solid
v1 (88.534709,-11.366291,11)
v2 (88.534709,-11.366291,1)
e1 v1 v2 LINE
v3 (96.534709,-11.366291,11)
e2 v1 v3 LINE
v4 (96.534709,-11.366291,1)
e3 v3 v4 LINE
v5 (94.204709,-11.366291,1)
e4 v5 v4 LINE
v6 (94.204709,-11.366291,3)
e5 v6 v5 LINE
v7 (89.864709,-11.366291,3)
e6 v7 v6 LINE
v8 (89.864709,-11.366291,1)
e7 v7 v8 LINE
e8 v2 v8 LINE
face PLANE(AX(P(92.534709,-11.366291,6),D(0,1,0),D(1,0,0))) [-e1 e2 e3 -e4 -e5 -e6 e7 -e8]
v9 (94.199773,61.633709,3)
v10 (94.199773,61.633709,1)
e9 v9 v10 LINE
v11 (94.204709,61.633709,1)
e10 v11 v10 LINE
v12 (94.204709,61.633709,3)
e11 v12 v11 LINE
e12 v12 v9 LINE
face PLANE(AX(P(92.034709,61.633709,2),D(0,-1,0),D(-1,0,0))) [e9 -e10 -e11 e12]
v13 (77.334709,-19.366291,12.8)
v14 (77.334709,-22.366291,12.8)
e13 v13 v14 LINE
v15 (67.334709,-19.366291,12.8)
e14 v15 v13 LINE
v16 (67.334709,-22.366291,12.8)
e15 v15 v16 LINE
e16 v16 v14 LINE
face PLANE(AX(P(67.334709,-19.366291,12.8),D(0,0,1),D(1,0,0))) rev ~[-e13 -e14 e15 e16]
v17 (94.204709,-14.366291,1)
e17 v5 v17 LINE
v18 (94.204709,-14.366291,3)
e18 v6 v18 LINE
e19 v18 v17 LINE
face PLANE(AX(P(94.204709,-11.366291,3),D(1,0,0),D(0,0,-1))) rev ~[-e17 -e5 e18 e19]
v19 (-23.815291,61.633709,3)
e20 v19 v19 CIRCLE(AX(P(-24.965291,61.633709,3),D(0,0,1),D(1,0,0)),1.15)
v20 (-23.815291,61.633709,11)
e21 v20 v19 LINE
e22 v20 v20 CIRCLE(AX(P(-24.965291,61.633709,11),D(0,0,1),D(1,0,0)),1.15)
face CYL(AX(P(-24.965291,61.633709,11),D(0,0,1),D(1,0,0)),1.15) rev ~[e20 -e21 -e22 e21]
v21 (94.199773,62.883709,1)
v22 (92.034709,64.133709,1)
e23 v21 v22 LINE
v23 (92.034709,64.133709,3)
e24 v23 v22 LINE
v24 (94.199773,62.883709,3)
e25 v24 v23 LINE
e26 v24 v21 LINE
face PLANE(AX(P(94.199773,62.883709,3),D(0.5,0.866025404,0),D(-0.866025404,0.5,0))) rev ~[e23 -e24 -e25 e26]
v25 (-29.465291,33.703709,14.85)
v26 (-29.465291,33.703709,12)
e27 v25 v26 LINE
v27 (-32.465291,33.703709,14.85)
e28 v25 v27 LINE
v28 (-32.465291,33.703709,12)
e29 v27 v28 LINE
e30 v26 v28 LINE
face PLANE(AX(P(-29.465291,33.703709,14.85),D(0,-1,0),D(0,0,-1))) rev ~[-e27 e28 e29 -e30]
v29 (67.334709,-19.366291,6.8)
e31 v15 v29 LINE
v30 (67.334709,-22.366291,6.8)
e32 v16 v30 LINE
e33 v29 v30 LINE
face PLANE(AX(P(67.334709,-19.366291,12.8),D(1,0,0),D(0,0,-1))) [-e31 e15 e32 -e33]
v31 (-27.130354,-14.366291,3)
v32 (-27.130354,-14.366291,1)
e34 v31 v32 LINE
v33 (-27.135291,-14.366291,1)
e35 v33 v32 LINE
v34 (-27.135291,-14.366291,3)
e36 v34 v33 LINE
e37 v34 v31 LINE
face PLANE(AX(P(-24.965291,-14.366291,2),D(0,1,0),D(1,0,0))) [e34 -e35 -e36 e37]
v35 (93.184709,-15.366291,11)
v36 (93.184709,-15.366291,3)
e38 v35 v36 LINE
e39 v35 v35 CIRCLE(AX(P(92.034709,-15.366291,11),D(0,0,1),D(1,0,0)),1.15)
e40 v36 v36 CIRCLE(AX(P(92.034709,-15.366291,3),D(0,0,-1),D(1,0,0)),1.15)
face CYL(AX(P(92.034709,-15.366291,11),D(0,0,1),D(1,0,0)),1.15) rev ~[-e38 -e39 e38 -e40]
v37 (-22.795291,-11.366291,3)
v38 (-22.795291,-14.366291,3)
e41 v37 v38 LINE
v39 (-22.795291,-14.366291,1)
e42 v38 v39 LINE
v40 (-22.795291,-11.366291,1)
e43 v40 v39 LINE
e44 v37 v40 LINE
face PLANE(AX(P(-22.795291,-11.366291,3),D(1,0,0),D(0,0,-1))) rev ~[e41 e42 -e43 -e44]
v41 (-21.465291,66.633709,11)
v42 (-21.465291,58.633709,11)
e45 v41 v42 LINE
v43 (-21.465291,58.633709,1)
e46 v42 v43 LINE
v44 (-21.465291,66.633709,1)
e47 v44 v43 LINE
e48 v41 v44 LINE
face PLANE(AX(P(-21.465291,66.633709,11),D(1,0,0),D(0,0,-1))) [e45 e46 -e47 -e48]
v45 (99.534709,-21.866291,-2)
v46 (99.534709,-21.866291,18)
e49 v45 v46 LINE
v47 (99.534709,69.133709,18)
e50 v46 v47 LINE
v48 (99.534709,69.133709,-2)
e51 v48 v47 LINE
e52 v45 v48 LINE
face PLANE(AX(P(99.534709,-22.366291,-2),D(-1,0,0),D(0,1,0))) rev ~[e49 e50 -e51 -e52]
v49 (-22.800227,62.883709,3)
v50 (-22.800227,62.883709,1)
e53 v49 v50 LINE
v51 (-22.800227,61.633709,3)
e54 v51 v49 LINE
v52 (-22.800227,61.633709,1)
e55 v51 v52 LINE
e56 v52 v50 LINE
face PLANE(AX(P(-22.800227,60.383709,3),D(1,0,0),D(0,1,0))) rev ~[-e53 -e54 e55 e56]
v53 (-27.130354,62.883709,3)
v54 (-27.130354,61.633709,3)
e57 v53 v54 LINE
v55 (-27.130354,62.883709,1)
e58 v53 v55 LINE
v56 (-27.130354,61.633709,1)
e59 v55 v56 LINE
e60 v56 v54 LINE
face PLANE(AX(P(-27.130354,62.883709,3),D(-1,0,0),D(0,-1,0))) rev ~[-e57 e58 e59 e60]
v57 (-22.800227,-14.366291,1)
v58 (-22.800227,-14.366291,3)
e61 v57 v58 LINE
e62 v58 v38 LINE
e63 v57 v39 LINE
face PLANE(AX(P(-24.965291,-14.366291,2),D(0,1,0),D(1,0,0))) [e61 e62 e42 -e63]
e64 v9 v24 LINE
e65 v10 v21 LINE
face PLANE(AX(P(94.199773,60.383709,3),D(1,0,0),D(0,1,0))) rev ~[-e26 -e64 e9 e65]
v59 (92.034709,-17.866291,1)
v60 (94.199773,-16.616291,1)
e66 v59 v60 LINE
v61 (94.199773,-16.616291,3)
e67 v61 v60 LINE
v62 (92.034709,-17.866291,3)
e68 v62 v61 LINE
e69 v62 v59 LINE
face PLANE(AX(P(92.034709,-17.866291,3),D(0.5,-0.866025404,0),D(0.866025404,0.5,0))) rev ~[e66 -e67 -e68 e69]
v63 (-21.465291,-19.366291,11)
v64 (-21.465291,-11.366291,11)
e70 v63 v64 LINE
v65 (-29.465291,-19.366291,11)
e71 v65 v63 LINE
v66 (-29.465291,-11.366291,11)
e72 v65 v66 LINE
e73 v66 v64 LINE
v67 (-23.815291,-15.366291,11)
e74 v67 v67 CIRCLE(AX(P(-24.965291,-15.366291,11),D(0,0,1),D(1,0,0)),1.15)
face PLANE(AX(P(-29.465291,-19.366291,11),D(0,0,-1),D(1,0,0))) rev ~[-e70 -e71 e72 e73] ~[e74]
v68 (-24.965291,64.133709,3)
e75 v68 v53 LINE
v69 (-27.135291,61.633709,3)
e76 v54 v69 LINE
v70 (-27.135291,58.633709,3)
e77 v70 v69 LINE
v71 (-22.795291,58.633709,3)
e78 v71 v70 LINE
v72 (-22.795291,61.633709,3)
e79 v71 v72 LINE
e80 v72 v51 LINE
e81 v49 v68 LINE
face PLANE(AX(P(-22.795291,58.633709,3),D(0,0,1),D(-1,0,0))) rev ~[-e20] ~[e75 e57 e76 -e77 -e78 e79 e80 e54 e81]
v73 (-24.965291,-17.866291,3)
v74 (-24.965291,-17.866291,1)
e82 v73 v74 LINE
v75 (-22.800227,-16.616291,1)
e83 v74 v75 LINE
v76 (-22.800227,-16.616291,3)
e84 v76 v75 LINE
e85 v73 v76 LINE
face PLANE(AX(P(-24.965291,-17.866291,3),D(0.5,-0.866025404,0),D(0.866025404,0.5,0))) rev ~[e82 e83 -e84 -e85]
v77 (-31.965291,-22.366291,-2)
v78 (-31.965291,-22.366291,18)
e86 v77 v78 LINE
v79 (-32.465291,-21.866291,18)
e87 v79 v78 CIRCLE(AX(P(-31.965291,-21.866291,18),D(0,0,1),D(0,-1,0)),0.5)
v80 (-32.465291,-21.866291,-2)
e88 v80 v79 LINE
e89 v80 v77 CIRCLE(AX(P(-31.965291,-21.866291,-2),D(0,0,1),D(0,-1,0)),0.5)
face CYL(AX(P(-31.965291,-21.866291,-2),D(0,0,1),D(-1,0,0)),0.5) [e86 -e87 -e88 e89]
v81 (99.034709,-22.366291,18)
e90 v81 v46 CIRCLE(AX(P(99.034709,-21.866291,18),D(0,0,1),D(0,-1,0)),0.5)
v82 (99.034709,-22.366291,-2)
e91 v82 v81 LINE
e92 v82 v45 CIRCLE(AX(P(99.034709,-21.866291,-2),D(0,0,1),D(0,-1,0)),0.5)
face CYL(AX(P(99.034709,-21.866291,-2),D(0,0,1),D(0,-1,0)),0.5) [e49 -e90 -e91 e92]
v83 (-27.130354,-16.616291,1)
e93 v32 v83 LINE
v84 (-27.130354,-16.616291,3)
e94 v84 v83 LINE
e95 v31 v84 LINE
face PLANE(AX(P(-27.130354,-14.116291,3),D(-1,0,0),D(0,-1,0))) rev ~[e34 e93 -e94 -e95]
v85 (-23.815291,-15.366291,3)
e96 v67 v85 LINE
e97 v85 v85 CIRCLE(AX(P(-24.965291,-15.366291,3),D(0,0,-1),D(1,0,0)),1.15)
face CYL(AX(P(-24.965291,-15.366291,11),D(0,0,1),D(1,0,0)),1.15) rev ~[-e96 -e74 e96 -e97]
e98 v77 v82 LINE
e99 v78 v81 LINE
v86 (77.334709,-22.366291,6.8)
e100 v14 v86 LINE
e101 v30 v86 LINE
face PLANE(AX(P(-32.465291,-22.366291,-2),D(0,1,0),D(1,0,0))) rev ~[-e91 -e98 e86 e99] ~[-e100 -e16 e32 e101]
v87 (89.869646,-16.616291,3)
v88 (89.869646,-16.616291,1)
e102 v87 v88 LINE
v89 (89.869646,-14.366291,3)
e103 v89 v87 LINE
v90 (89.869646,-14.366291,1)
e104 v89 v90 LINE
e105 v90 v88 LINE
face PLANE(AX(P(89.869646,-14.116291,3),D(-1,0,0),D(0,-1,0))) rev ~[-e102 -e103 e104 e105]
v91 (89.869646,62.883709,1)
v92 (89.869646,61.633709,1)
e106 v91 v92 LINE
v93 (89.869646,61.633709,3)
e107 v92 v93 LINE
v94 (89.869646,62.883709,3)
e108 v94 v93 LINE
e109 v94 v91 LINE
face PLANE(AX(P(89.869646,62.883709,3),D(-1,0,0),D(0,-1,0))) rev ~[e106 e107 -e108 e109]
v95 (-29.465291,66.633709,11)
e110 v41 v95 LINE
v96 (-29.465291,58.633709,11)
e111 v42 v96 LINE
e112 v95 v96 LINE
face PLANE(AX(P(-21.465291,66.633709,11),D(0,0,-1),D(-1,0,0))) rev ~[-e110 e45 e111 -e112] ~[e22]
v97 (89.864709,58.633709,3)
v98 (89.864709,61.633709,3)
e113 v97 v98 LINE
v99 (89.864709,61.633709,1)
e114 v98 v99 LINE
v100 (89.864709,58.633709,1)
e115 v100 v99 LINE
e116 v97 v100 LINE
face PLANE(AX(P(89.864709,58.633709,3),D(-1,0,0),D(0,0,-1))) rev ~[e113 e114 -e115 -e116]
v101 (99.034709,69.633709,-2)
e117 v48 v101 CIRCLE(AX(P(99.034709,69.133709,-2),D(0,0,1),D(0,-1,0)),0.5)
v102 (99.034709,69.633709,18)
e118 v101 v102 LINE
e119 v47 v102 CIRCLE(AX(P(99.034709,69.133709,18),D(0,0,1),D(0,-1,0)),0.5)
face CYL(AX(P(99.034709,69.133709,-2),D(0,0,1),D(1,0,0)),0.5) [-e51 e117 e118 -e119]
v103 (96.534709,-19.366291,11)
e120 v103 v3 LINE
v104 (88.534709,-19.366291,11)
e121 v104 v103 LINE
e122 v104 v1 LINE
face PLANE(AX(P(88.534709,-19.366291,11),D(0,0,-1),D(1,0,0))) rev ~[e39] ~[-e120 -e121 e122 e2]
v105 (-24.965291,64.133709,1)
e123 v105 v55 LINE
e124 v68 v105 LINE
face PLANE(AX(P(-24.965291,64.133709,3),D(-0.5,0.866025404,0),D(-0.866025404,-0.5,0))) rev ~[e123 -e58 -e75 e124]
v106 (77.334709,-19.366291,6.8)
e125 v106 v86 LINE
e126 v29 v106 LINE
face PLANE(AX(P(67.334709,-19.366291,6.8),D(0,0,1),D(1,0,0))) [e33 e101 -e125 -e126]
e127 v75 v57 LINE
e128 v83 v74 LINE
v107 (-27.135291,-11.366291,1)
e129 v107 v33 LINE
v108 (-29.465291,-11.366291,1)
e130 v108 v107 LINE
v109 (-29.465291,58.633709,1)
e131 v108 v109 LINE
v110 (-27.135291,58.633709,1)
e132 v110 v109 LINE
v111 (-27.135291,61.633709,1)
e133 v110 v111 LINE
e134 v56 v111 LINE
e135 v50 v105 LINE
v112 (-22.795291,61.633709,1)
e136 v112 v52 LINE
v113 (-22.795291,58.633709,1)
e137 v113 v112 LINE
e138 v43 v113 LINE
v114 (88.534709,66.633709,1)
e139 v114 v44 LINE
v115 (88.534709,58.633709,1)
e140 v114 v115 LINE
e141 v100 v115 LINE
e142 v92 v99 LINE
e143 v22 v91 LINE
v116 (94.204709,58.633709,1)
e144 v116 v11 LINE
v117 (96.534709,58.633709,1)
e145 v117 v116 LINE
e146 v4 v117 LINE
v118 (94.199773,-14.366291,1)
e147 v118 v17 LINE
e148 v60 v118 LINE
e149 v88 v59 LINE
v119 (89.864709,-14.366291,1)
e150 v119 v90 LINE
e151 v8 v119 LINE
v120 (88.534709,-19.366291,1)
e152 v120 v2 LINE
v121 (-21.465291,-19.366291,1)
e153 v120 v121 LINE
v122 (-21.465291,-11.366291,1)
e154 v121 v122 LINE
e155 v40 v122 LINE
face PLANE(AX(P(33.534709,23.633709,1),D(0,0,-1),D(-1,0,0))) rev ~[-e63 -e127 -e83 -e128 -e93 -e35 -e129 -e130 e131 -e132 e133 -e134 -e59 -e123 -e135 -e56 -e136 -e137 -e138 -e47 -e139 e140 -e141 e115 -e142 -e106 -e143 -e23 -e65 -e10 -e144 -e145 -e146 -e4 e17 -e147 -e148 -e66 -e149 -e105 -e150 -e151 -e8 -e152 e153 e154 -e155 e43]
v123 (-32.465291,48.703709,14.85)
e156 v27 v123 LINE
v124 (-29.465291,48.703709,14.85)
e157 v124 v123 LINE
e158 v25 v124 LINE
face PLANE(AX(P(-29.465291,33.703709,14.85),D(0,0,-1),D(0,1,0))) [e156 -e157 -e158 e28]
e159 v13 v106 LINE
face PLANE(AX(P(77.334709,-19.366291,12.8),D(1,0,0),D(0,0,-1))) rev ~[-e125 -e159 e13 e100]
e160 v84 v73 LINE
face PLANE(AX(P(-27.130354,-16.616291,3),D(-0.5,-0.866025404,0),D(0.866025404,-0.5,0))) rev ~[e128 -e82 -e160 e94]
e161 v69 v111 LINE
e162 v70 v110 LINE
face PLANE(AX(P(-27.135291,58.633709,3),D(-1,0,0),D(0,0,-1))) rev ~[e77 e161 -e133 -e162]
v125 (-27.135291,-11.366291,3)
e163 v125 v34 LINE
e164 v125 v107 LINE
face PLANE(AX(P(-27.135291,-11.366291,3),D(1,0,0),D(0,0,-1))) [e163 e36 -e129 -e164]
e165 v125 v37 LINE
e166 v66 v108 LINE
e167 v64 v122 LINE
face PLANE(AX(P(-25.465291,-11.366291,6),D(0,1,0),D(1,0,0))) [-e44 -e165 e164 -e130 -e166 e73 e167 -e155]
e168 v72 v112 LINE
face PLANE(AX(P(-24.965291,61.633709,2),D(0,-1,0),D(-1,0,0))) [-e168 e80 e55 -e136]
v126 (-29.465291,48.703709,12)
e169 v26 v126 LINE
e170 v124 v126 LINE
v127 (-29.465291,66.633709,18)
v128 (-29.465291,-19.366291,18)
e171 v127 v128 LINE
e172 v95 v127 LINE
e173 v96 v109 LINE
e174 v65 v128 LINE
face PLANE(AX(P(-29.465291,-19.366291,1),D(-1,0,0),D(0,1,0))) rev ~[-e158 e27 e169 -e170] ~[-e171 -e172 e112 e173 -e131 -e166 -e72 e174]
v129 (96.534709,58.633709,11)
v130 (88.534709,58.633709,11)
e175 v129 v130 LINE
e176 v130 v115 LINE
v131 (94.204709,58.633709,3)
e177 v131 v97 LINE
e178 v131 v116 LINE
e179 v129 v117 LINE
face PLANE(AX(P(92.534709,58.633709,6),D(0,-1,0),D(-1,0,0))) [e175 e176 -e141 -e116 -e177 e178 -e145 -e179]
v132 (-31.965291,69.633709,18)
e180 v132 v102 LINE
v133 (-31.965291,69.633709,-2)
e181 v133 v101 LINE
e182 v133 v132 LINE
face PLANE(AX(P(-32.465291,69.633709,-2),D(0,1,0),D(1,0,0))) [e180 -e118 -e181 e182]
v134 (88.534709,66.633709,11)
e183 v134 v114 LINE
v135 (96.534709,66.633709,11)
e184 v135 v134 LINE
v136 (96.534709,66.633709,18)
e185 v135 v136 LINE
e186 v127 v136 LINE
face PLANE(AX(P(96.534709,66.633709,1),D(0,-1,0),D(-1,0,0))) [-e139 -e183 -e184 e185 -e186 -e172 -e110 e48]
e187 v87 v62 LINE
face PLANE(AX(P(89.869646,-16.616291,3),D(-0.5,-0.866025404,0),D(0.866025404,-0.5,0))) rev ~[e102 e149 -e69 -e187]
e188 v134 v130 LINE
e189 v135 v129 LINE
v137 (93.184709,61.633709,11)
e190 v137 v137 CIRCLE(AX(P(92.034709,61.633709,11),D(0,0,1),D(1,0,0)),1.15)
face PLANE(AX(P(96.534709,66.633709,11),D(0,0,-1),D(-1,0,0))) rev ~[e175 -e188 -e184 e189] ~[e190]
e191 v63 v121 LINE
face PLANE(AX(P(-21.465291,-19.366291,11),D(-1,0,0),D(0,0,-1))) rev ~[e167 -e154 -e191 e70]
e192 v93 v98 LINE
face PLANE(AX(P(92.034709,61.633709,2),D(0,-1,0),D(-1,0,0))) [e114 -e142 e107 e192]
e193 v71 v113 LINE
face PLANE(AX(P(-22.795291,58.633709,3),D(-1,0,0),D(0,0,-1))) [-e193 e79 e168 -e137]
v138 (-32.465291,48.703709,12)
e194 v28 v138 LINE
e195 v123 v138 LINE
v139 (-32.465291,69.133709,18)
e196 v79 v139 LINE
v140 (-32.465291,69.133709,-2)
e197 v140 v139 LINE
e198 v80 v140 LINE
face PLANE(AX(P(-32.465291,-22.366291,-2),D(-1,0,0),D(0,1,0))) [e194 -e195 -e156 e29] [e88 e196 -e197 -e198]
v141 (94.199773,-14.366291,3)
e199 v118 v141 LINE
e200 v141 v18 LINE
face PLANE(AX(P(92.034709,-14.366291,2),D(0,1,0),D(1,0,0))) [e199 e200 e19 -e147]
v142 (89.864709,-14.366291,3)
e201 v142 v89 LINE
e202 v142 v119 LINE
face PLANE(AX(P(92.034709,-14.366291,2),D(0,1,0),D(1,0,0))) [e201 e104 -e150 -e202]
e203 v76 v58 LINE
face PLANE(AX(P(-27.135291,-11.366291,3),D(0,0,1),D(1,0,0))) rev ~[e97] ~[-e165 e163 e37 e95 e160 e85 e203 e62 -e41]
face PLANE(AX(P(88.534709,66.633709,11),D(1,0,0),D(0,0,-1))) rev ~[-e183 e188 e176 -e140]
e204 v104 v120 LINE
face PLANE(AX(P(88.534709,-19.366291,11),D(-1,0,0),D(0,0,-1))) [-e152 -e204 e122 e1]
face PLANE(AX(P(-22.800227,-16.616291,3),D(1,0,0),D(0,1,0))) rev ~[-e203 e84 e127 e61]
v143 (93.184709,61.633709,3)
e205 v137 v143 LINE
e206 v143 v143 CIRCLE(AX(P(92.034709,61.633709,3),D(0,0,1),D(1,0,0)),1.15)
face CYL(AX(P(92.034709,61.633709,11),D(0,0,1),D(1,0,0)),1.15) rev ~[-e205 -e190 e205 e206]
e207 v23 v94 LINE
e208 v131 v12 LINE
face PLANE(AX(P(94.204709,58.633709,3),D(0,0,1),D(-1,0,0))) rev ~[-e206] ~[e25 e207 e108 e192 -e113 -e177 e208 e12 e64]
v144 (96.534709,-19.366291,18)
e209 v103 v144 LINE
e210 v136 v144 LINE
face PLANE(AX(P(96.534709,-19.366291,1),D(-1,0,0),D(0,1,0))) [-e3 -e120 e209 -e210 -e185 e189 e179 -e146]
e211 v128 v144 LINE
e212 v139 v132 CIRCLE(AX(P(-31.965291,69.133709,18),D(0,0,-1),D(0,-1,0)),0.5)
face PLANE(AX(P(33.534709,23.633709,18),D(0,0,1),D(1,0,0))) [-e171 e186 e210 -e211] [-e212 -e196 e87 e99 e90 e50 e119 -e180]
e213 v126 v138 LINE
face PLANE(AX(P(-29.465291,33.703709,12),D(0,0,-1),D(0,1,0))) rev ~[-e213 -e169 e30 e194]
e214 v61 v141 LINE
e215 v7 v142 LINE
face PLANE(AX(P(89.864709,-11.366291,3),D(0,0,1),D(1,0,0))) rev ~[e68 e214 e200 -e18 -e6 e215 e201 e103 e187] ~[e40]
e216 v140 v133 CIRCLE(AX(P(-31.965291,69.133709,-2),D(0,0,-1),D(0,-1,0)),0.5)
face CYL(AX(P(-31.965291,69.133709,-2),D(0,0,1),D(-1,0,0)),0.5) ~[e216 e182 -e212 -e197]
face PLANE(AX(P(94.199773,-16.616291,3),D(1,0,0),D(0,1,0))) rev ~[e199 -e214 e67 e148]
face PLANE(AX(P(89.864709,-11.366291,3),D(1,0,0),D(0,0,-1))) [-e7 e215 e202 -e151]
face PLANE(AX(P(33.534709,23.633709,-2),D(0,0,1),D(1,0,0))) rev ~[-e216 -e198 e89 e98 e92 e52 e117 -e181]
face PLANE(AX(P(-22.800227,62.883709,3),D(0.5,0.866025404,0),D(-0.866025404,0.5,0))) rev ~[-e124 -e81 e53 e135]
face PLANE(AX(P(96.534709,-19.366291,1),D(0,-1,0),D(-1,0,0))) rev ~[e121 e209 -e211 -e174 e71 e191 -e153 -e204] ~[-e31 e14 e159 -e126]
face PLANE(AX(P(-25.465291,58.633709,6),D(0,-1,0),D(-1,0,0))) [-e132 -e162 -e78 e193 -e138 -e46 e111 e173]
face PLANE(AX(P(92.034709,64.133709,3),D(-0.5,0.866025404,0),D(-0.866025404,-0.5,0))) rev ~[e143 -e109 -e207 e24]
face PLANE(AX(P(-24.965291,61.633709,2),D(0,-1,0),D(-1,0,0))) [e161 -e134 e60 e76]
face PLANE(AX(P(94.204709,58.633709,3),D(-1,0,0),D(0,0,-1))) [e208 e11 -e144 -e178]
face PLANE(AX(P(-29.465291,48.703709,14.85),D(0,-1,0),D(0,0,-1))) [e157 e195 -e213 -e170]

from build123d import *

# Parameters (mm, degrees)
BOSS_EXTRU_1_DEPTH       = 18
BOSS_EXTRU_1_DEPTH_BACK  = 2
ESQUISSE1_W              = 132
ESQUISSE1_H              = 92
ENL_V_START              = -3
ESQUISSE14_W             = 126
ESQUISSE14_H             = 86
ENL_V_MAT_EXTRU_1_DEPTH  = 121.109755351
ESQUISSE15_W             = 8
ESQUISSE15_H             = 10
BOSS_EXTRU_2_DEPTH       = 8
ESQUISSE16_W             = 8
ESQUISSE16_H             = 10
BOSS_EXTRU_3_DEPTH       = 8
ESQUISSE17_W             = 8
ESQUISSE17_H             = 10
BOSS_EXTRU_4_DEPTH       = 8
ESQUISSE18_W             = 8
ESQUISSE18_H             = 10
BOSS_EXTRU_5_DEPTH       = 8
ESQUISSE19_R             = 1.15
ENL_V_MAT_EXTRU_2_DEPTH  = 10
ESQUISSE20_R             = 1.15
ENL_V_MAT_EXTRU_3_DEPTH  = 10
ESQUISSE21_R             = 1.15
ENL_V_MAT_EXTRU_4_DEPTH  = 10
ESQUISSE22_R             = 1.15
ENL_V_MAT_EXTRU_5_DEPTH  = 10
ENL_V_START_2            = -8
ENL_V_MAT_EXTRU_6_DEPTH  = 2
ESQUISSE24_W             = 4.34
ESQUISSE24_H             = 2
ENL_V_MAT_EXTRU_7_DEPTH  = 3
ENL_V_MAT_EXTRU_8_DEPTH  = 2
ESQUISSE26_W             = 4.34
ESQUISSE26_H             = 2
ENL_V_MAT_EXTRU_9_DEPTH  = 3
ENL_V_MAT_EXTRU_10_DEPTH = 2
ESQUISSE28_W             = 4.34
ESQUISSE28_H             = 2
ENL_V_MAT_EXTRU_11_DEPTH = 3
ENL_V_MAT_EXTRU_12_DEPTH = 2
ESQUISSE30_W             = 4.34
ESQUISSE30_H             = 2
ENL_V_MAT_EXTRU_13_DEPTH = 3
ESQUISSE31_W             = 10
ESQUISSE31_H             = 6
ENL_V_MAT_EXTRU_14_DEPTH = 3
ESQUISSE32_W             = 2.85
ESQUISSE32_H             = 15
ENL_V_MAT_EXTRU_15_DEPTH = 3
CONG_1_R                 = 0.5
CONG_2_R                 = 0.5
CONG_3_R                 = 0.5
CONG_4_R                 = 0.5


with BuildPart() as part:
    # Esquisse1 → Boss.-Extru.1 (new, two sides: drawn at the far end of the back side and taken through both)
    with BuildSketch(Plane.XY.offset(-BOSS_EXTRU_1_DEPTH_BACK)):
        with Locations((33.534709402, 23.633709415)):
            Rectangle(ESQUISSE1_W, ESQUISSE1_H)
    extrude(amount=BOSS_EXTRU_1_DEPTH + BOSS_EXTRU_1_DEPTH_BACK)

    # Esquisse14 → Enlèv. mat.-Extru.1 (cut, through all)
    with BuildSketch(Plane(origin=(0, 0, -2), x_dir=(-1, 0, 0), z_dir=(0, 0, -1)).offset(ENL_V_START)):
        with Locations((-33.534709402, 23.633709415)):
            Rectangle(ESQUISSE14_W, ESQUISSE14_H)
    extrude(amount=-ENL_V_MAT_EXTRU_1_DEPTH, mode=Mode.SUBTRACT)

    # Esquisse15 → Boss.-Extru.2 (add)
    with BuildSketch(Plane(origin=(0, 66.633709415, 0), x_dir=(-1, 0, 0), z_dir=(0, -1, 0))):
        with Locations((25.465290598, -6)):
            Rectangle(ESQUISSE15_W, ESQUISSE15_H)
    extrude(amount=BOSS_EXTRU_2_DEPTH)

    # Esquisse16 → Boss.-Extru.3 (add)
    with BuildSketch(Plane(origin=(0, 66.633709415, 0), x_dir=(-1, 0, 0), z_dir=(0, -1, 0))):
        with Locations((-92.534709402, -6)):
            Rectangle(ESQUISSE16_W, ESQUISSE16_H)
    extrude(amount=BOSS_EXTRU_3_DEPTH)

    # Esquisse17 → Boss.-Extru.4 (add)
    with BuildSketch(Plane(origin=(0, -19.366290585, 0), x_dir=(1, 0, 0), z_dir=(0, 1, 0))):
        with Locations((92.534709402, -6)):
            Rectangle(ESQUISSE17_W, ESQUISSE17_H)
    extrude(amount=BOSS_EXTRU_4_DEPTH)

    # Esquisse18 → Boss.-Extru.5 (add)
    with BuildSketch(Plane(origin=(0, -19.366290585, 0), x_dir=(1, 0, 0), z_dir=(0, 1, 0))):
        with Locations((-25.465290598, -6)):
            Rectangle(ESQUISSE18_W, ESQUISSE18_H)
    extrude(amount=BOSS_EXTRU_5_DEPTH)

    # Esquisse19 → Enlèv. mat.-Extru.2 (cut)
    with BuildSketch(Plane.XY.offset(11)):
        with Locations((92.034709402, -15.366290585)):
            Circle(ESQUISSE19_R)
    extrude(amount=-ENL_V_MAT_EXTRU_2_DEPTH, mode=Mode.SUBTRACT)

    # Esquisse20 → Enlèv. mat.-Extru.3 (cut)
    with BuildSketch(Plane.XY.offset(11)):
        with Locations((-24.965290598, -15.366290585)):
            Circle(ESQUISSE20_R)
    extrude(amount=-ENL_V_MAT_EXTRU_3_DEPTH, mode=Mode.SUBTRACT)

    # Esquisse21 → Enlèv. mat.-Extru.4 (cut)
    with BuildSketch(Plane.XY.offset(11)):
        with Locations((-24.965290598, 61.633709415)):
            Circle(ESQUISSE21_R)
    extrude(amount=-ENL_V_MAT_EXTRU_4_DEPTH, mode=Mode.SUBTRACT)

    # Esquisse22 → Enlèv. mat.-Extru.5 (cut)
    with BuildSketch(Plane.XY.offset(11)):
        with Locations((92.034709402, 61.633709415)):
            Circle(ESQUISSE22_R)
    extrude(amount=-ENL_V_MAT_EXTRU_5_DEPTH, mode=Mode.SUBTRACT)

    # Esquisse23 → Enlèv. mat.-Extru.6 (cut)
    with BuildSketch(Plane.XY.offset(11).offset(ENL_V_START_2)):
        Polygon((89.869645893, -14.116290585), (89.869645893, -16.616290585), (92.034709402, -17.866290585), (94.199772912, -16.616290585), (94.199772912, -14.116290585), (92.034709402, -12.866290585), align=None)
    extrude(amount=-ENL_V_MAT_EXTRU_6_DEPTH, mode=Mode.SUBTRACT)

    # Esquisse24 → Enlèv. mat.-Extru.7 (cut)
    with BuildSketch(Plane(origin=(0, -11.366290585, 0), x_dir=(1, 0, 0), z_dir=(0, 1, 0))):
        with Locations((92.034709402, -2)):
            Rectangle(ESQUISSE24_W, ESQUISSE24_H)
    extrude(amount=-ENL_V_MAT_EXTRU_7_DEPTH, mode=Mode.SUBTRACT)

    # Esquisse25 → Enlèv. mat.-Extru.8 (cut)
    with BuildSketch(Plane.XY.offset(11).offset(ENL_V_START_2)):
        Polygon((-22.800227088, -14.116290585), (-24.965290598, -12.866290585), (-27.130354107, -14.116290585), (-27.130354107, -16.616290585), (-24.965290598, -17.866290585), (-22.800227088, -16.616290585), align=None)
    extrude(amount=-ENL_V_MAT_EXTRU_8_DEPTH, mode=Mode.SUBTRACT)

    # Esquisse26 → Enlèv. mat.-Extru.9 (cut)
    with BuildSketch(Plane(origin=(0, -11.366290585, 0), x_dir=(1, 0, 0), z_dir=(0, 1, 0))):
        with Locations((-24.965290598, -2)):
            Rectangle(ESQUISSE26_W, ESQUISSE26_H)
    extrude(amount=-ENL_V_MAT_EXTRU_9_DEPTH, mode=Mode.SUBTRACT)

    # Esquisse27 → Enlèv. mat.-Extru.10 (cut)
    with BuildSketch(Plane.XY.offset(11).offset(ENL_V_START_2)):
        Polygon((-24.965290598, 59.133709415), (-22.800227088, 60.383709415), (-22.800227088, 62.883709415), (-24.965290598, 64.133709415), (-27.130354107, 62.883709415), (-27.130354107, 60.383709415), align=None)
    extrude(amount=-ENL_V_MAT_EXTRU_10_DEPTH, mode=Mode.SUBTRACT)

    # Esquisse28 → Enlèv. mat.-Extru.11 (cut)
    with BuildSketch(Plane(origin=(0, 58.633709415, 0), x_dir=(-1, 0, 0), z_dir=(0, -1, 0))):
        with Locations((24.965290598, -2)):
            Rectangle(ESQUISSE28_W, ESQUISSE28_H)
    extrude(amount=-ENL_V_MAT_EXTRU_11_DEPTH, mode=Mode.SUBTRACT)

    # Esquisse29 → Enlèv. mat.-Extru.12 (cut)
    with BuildSketch(Plane.XY.offset(11).offset(ENL_V_START_2)):
        Polygon((89.869645893, 60.383709415), (92.034709402, 59.133709415), (94.199772912, 60.383709415), (94.199772912, 62.883709415), (92.034709402, 64.133709415), (89.869645893, 62.883709415), align=None)
    extrude(amount=-ENL_V_MAT_EXTRU_12_DEPTH, mode=Mode.SUBTRACT)

    # Esquisse30 → Enlèv. mat.-Extru.13 (cut)
    with BuildSketch(Plane(origin=(0, 58.633709415, 0), x_dir=(-1, 0, 0), z_dir=(0, -1, 0))):
        with Locations((-92.034709402, -2)):
            Rectangle(ESQUISSE30_W, ESQUISSE30_H)
    extrude(amount=-ENL_V_MAT_EXTRU_13_DEPTH, mode=Mode.SUBTRACT)

    # Esquisse31 → Enlèv. mat.-Extru.14 (cut)
    with BuildSketch(Plane(origin=(0, -19.366290585, 0), x_dir=(1, 0, 0), z_dir=(0, 1, 0))):
        with Locations((72.334709402, -9.8)):
            Rectangle(ESQUISSE31_W, ESQUISSE31_H)
    extrude(amount=-ENL_V_MAT_EXTRU_14_DEPTH, mode=Mode.SUBTRACT)

    # Esquisse32 → Enlèv. mat.-Extru.15 (cut)
    with BuildSketch(Plane(origin=(-29.465290598, 0, 0), x_dir=(0, 0, -1), z_dir=(1, 0, 0))):
        with Locations((-13.425, 41.203709415)):
            Rectangle(ESQUISSE32_W, ESQUISSE32_H)
    extrude(amount=-ENL_V_MAT_EXTRU_15_DEPTH, mode=Mode.SUBTRACT)

    # Congé1
    cong_1_edges = [part.edges().sort_by_distance(p)[0] for p in [
        (-32.465290598, 69.633709415, 8),
    ]]
    fillet(cong_1_edges, radius=CONG_1_R)

    # Congé2
    cong_2_edges = [part.edges().sort_by_distance(p)[0] for p in [
        (-32.465290598, -22.366290585, 8),
    ]]
    fillet(cong_2_edges, radius=CONG_2_R)

    # Congé3
    cong_3_edges = [part.edges().sort_by_distance(p)[0] for p in [
        (99.534709402, -22.366290585, 8),
    ]]
    fillet(cong_3_edges, radius=CONG_3_R)

    # Congé4
    cong_4_edges = [part.edges().sort_by_distance(p)[0] for p in [
        (99.534709402, 69.633709415, 8),
    ]]
    fillet(cong_4_edges, radius=CONG_4_R)


solid = part.part
